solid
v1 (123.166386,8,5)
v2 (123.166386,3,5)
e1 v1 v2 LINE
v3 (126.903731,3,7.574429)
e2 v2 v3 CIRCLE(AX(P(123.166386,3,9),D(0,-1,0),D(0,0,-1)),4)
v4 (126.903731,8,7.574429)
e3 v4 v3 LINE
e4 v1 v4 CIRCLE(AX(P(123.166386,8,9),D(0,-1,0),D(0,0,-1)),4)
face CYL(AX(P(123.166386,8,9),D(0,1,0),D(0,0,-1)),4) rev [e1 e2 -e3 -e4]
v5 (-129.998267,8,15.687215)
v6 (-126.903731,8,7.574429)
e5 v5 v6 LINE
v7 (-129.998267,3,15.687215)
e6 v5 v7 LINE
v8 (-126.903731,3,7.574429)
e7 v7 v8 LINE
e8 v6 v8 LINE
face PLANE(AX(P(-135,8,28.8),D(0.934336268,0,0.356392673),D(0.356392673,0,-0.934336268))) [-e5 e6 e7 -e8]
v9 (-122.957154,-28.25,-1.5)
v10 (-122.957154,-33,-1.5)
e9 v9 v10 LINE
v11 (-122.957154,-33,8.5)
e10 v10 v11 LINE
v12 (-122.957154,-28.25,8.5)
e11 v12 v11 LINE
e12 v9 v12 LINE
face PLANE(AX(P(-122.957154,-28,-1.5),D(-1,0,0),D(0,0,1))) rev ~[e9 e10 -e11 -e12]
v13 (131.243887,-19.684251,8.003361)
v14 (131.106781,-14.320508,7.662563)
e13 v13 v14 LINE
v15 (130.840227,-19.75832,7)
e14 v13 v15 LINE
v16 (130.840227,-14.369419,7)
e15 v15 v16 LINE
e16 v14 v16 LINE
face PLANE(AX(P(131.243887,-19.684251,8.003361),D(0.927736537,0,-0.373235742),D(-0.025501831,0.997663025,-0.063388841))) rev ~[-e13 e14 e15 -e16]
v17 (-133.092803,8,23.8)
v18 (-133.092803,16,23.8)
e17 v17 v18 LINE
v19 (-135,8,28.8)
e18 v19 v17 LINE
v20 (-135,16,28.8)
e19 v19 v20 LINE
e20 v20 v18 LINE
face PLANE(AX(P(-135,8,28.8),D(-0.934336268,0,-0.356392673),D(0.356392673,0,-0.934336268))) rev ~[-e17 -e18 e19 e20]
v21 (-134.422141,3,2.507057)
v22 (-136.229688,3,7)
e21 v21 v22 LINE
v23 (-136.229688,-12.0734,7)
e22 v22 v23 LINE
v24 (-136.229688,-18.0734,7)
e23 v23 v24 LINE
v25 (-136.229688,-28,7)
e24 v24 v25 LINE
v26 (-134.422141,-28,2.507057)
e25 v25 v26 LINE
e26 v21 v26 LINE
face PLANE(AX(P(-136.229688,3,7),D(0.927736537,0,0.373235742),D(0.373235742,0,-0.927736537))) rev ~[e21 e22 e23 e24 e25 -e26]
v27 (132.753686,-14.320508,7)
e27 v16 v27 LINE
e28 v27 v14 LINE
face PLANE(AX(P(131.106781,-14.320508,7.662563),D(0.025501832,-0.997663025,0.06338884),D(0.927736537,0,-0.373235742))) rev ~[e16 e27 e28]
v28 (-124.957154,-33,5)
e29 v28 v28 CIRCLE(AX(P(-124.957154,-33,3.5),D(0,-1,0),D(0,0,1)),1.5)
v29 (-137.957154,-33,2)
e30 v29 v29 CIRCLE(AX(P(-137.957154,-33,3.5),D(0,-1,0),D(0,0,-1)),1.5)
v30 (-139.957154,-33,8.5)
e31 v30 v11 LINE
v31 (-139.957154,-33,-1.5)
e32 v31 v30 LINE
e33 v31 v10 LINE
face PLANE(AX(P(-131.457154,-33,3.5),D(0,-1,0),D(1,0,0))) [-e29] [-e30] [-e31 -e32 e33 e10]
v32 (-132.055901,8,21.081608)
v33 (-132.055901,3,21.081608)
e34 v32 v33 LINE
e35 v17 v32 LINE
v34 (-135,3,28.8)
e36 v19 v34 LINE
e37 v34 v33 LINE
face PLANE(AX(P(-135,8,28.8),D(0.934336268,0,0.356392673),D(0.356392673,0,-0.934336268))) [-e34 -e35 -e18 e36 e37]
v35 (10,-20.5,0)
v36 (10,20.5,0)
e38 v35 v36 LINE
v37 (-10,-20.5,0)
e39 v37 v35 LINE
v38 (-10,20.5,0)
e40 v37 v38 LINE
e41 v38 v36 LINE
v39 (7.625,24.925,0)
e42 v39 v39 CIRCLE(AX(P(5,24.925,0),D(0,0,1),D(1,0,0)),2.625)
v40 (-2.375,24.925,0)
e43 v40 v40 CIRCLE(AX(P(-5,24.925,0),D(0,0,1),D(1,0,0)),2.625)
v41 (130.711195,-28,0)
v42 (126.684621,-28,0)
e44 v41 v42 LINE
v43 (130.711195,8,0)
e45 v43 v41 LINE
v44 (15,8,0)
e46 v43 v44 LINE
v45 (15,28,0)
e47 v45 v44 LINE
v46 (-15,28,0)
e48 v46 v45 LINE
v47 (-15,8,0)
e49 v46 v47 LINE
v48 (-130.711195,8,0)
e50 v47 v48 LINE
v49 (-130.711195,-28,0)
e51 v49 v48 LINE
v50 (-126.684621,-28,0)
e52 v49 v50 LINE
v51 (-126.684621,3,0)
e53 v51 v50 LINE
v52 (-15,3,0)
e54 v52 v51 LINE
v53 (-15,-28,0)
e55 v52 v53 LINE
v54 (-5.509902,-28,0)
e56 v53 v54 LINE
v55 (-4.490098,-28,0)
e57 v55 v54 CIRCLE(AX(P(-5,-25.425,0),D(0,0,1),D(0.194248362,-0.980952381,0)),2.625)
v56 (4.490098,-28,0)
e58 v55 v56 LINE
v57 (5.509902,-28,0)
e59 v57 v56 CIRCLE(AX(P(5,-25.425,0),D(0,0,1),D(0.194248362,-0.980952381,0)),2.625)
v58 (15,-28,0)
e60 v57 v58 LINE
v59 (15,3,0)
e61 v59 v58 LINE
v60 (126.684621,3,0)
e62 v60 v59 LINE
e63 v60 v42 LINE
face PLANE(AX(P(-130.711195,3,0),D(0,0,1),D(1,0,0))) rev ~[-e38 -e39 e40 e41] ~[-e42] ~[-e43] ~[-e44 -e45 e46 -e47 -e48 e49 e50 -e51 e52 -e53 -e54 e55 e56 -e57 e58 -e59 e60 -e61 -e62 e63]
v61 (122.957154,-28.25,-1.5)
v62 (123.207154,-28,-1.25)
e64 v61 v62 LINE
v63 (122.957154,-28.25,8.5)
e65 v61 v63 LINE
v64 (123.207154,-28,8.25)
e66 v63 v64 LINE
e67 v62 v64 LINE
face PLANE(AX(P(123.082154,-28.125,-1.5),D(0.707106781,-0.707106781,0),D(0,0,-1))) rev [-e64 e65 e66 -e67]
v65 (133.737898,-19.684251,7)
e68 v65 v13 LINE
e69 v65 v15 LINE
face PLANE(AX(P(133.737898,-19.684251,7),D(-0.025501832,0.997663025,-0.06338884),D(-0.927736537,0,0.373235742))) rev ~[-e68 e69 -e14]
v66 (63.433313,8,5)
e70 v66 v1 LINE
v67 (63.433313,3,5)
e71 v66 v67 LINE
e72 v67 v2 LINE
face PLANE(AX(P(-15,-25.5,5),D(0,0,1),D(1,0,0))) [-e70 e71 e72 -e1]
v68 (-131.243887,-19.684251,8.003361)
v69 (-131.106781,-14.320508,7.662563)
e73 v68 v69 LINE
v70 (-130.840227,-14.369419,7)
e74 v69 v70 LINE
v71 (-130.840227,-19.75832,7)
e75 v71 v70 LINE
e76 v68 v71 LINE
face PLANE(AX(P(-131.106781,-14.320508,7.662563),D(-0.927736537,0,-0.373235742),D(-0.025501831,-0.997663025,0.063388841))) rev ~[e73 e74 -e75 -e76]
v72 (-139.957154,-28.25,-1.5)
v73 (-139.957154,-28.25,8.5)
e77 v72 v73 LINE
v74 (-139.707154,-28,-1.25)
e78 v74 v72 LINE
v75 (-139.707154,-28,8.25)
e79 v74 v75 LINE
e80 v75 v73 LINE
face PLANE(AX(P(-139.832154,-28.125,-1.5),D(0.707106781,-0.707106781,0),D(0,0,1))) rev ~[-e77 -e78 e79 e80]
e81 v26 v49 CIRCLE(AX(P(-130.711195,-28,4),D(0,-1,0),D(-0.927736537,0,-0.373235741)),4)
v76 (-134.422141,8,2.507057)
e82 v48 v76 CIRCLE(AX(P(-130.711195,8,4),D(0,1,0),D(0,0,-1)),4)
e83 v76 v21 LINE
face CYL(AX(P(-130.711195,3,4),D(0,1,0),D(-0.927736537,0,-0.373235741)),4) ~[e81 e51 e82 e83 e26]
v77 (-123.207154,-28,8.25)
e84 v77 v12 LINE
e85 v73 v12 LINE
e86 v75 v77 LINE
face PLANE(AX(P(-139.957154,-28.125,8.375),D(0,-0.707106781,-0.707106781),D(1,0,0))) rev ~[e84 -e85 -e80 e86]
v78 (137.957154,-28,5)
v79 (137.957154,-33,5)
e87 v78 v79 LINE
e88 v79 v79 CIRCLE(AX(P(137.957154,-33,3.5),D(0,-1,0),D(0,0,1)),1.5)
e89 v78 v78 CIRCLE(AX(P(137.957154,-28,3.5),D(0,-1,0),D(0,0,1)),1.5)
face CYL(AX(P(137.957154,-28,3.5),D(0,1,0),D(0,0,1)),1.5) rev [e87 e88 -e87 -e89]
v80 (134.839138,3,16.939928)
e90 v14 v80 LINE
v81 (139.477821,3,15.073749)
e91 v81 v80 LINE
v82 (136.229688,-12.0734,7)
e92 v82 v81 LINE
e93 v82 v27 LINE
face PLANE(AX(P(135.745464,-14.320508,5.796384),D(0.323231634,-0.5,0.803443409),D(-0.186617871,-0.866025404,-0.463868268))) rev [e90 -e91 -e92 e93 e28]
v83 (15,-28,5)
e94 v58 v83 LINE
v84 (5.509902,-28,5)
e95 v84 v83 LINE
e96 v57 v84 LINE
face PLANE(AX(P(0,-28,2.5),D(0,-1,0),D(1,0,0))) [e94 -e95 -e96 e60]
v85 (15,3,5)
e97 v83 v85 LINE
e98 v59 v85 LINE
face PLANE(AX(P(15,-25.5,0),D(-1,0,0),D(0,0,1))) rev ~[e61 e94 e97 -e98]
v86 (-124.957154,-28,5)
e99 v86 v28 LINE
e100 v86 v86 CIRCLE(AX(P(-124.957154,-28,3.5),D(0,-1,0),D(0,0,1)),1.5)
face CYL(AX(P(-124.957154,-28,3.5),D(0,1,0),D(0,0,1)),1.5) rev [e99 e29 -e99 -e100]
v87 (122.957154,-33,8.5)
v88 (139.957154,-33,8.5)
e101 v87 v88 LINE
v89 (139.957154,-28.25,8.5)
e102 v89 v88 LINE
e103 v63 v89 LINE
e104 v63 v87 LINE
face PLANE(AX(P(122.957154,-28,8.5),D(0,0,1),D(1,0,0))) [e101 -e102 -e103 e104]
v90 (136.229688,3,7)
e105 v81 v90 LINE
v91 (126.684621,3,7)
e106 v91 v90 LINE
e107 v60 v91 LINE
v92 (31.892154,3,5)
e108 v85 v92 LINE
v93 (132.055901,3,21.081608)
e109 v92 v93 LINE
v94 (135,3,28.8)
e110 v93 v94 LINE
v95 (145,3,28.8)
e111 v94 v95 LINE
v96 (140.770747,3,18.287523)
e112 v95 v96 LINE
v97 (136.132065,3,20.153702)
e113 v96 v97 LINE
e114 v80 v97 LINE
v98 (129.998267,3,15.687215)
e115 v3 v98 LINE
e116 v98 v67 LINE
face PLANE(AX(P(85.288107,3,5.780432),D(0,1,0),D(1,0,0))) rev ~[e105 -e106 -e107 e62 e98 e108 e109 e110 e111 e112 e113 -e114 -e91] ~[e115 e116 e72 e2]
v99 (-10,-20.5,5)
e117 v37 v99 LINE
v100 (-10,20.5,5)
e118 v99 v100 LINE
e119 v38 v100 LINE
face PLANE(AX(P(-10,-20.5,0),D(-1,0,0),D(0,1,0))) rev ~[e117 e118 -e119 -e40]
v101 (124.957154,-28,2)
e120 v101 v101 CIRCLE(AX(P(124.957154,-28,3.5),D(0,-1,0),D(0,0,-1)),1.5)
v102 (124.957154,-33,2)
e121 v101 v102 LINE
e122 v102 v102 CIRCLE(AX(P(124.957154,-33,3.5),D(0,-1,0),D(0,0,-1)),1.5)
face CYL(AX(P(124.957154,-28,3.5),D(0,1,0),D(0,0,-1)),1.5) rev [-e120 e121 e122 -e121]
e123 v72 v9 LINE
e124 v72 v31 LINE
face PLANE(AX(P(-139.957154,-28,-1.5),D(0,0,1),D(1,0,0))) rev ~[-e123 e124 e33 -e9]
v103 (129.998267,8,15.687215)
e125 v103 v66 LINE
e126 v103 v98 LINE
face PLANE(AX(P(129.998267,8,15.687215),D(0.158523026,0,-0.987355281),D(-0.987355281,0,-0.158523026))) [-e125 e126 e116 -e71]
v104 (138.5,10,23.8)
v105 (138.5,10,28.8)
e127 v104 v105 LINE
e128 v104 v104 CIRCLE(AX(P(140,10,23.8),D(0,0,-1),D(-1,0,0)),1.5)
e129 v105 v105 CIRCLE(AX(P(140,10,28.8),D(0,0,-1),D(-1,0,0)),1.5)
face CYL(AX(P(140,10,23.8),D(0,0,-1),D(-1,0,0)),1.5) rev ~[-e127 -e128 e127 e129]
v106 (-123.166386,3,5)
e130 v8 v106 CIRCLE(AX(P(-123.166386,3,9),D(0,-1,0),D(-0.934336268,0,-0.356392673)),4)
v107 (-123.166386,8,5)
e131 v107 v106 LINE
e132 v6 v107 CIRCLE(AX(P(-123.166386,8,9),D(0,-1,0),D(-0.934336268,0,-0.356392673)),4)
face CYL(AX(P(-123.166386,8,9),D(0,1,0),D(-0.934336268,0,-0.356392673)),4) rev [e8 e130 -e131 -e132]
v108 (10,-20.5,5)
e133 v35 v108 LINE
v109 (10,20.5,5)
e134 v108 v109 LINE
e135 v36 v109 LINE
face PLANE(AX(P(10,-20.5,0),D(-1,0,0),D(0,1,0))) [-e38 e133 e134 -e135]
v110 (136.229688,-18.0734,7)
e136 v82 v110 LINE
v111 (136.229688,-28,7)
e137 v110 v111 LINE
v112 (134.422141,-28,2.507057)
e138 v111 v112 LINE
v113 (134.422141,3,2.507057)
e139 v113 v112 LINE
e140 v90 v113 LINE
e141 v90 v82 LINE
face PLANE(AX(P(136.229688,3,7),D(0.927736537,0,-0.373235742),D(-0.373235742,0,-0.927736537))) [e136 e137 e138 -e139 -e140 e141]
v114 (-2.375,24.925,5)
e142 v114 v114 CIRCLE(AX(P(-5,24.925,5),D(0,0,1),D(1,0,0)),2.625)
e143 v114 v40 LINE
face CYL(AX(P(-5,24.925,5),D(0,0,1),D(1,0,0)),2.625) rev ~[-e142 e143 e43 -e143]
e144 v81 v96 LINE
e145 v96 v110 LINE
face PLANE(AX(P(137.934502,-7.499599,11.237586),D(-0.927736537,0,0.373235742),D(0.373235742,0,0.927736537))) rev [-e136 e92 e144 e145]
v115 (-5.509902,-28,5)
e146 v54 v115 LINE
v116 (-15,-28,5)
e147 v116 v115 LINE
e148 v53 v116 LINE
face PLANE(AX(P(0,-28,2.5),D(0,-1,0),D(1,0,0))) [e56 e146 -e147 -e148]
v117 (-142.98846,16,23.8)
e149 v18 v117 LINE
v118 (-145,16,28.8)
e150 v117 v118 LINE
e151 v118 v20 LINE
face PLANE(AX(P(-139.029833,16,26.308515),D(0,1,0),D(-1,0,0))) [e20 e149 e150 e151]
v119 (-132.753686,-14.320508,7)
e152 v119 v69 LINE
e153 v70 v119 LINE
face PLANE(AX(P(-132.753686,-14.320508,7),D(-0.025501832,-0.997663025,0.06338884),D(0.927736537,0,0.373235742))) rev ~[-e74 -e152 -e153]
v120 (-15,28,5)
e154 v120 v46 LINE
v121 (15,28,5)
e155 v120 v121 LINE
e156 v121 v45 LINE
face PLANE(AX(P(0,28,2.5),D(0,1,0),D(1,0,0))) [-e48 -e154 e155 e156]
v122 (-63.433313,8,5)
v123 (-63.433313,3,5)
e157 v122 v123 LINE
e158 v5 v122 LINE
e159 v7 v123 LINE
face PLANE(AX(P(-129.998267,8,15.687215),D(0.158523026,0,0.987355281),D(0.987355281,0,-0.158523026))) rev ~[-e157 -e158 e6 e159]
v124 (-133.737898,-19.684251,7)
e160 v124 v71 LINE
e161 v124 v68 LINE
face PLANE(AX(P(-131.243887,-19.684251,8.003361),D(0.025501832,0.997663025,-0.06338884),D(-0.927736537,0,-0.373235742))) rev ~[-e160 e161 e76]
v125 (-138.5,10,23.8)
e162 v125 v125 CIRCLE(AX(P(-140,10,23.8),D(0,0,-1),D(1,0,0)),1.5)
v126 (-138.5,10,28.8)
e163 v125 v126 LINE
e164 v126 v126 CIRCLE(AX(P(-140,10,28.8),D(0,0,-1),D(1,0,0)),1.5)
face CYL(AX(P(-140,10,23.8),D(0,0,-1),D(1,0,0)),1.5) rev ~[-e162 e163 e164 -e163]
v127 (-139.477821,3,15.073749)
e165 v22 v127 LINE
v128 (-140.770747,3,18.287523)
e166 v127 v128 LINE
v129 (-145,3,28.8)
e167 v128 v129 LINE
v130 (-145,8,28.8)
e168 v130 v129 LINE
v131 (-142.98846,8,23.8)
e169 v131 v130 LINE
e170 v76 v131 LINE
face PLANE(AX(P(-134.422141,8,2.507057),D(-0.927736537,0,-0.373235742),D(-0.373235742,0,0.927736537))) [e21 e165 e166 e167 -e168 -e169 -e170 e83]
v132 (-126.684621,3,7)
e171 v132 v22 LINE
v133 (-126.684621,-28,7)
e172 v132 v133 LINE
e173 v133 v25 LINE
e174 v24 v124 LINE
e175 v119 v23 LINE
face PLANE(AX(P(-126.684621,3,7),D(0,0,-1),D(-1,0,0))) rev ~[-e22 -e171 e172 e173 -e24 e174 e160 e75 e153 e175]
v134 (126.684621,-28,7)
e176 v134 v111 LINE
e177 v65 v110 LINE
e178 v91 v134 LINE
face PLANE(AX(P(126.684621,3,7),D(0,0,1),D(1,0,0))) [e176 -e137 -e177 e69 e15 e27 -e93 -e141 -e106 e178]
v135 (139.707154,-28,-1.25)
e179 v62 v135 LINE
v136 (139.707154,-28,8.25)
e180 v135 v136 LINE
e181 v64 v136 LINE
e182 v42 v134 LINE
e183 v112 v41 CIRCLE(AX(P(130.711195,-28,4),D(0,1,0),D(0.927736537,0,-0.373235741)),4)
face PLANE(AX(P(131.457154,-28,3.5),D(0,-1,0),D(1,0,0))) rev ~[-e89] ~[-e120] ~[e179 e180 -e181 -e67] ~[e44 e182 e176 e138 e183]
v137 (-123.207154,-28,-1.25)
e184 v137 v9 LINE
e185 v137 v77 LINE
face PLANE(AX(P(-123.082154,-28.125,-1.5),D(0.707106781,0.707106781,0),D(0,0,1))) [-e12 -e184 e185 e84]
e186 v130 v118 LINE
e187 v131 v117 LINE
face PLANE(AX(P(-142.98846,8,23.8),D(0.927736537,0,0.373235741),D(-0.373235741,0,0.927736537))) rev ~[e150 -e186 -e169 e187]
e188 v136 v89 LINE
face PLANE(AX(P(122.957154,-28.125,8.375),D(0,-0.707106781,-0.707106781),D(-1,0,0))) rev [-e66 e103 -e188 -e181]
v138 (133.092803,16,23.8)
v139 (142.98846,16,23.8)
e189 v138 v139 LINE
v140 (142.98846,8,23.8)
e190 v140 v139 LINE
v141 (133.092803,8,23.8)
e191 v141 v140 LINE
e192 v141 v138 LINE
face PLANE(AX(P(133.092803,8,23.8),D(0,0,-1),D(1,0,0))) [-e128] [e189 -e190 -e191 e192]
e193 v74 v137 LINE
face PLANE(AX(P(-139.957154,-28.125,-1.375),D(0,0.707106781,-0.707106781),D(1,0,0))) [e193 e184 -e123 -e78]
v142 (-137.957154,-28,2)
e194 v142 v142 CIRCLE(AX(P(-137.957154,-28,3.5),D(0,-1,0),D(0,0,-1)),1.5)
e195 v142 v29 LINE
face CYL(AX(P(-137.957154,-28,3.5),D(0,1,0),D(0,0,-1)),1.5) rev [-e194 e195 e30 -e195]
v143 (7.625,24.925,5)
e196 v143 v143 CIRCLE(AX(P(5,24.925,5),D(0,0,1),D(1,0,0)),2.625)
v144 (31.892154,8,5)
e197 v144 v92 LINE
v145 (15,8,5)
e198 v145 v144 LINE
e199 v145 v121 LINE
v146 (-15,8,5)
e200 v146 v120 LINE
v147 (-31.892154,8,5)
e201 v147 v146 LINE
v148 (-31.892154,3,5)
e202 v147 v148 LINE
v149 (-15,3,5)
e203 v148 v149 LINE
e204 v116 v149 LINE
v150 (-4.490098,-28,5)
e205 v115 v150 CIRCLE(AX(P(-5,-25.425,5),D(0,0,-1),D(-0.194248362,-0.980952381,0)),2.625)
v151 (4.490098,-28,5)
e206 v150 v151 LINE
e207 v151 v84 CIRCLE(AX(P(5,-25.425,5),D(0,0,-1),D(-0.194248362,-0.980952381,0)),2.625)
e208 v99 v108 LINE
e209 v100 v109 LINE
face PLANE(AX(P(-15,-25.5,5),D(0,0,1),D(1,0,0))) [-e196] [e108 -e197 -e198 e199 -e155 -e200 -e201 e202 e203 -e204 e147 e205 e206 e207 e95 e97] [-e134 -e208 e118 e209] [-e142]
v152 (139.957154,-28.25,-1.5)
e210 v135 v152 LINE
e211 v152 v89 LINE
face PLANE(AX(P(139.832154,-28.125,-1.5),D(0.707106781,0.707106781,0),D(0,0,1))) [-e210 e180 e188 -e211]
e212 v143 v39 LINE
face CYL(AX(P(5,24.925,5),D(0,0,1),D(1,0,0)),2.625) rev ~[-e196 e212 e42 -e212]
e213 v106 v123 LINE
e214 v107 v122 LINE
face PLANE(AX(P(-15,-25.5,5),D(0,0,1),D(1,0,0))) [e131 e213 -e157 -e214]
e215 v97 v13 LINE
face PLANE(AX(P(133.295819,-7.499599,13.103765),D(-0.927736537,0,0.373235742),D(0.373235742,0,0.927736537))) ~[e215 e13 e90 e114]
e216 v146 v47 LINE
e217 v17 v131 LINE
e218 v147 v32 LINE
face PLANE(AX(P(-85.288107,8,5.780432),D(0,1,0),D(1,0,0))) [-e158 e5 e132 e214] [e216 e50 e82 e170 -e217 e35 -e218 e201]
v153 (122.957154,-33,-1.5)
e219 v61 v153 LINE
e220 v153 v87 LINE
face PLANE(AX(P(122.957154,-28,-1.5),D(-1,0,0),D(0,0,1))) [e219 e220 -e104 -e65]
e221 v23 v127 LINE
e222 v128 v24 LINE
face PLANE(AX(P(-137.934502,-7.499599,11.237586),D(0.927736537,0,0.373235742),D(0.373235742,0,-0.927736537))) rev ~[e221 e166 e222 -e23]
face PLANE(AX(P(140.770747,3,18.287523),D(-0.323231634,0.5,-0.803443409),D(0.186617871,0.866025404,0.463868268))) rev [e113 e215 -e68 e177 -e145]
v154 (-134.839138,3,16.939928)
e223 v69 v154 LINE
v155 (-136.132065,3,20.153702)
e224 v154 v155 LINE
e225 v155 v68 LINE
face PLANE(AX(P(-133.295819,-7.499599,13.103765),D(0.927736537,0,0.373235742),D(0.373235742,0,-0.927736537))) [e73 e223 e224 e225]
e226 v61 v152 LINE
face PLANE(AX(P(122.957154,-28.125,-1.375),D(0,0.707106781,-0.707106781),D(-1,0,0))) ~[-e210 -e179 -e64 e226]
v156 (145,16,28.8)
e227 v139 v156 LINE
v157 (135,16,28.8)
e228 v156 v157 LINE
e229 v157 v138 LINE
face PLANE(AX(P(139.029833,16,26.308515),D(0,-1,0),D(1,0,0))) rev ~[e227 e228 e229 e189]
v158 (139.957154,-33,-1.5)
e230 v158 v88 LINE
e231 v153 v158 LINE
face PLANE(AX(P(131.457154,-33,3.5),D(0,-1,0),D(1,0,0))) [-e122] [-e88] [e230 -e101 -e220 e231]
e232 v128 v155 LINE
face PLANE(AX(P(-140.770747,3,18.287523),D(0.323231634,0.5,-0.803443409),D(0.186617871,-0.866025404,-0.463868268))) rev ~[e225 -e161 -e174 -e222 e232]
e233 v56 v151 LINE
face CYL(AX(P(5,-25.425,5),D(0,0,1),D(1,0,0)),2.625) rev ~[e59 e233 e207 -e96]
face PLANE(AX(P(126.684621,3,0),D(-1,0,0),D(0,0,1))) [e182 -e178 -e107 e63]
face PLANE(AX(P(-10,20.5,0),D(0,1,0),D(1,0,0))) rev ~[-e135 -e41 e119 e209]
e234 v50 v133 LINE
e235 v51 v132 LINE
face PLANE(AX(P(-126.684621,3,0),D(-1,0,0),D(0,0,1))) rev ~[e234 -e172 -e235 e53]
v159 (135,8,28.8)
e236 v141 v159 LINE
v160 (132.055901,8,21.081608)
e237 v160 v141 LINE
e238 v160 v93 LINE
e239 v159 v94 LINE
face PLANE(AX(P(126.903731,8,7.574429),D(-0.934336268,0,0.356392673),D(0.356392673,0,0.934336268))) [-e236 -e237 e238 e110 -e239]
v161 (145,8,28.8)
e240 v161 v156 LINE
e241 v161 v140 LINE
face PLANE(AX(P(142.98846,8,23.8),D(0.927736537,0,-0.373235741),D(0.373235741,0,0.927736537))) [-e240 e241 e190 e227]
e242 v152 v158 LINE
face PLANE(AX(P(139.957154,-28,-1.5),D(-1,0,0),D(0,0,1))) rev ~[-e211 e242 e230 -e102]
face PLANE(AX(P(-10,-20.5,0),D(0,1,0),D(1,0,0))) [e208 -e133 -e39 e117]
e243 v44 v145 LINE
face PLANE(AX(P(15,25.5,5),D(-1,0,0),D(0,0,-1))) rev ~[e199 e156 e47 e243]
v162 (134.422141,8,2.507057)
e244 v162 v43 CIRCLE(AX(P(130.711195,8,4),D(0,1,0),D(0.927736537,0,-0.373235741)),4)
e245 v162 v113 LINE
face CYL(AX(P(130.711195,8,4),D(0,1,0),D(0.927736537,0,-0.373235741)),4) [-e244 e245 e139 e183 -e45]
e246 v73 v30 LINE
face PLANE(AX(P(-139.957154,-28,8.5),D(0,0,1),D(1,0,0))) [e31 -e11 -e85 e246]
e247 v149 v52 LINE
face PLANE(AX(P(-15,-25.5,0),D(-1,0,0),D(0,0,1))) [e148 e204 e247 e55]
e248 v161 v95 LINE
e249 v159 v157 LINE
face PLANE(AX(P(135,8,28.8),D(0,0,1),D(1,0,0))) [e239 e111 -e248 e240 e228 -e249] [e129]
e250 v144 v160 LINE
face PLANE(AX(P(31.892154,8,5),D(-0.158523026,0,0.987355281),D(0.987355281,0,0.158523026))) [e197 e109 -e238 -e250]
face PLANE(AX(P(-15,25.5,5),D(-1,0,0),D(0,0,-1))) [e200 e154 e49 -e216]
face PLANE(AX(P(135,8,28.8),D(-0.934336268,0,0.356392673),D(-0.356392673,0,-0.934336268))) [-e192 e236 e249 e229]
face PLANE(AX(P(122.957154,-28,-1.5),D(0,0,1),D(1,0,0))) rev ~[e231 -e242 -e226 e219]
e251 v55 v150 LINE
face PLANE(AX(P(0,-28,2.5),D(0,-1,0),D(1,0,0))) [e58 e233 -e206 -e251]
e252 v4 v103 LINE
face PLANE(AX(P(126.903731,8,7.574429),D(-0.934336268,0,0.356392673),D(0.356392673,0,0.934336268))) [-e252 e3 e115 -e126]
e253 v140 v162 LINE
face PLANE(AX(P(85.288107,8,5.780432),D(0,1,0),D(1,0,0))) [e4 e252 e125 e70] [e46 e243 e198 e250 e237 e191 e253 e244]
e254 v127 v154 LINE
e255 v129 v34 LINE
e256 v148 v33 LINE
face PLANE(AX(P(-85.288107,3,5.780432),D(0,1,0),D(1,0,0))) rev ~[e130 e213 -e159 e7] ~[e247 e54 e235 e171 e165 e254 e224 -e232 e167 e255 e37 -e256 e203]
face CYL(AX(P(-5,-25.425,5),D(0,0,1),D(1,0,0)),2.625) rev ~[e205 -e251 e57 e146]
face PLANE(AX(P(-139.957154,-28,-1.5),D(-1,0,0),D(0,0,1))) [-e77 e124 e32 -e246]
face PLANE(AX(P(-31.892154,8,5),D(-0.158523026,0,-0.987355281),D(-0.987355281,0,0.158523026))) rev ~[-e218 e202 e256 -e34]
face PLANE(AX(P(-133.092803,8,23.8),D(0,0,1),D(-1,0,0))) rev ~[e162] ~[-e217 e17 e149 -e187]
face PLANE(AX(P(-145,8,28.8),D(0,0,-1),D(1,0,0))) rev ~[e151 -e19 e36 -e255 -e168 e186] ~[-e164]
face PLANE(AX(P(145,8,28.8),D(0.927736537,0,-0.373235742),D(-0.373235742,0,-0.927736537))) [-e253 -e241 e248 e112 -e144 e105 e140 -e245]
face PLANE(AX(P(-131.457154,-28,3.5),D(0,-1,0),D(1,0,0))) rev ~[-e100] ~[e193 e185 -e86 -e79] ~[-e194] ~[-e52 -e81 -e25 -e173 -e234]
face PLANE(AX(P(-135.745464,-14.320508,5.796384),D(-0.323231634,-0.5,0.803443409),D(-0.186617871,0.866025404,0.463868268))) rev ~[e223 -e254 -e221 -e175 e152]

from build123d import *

# Parameters (mm, degrees)
ESQUISSE1_W             = 30
ESQUISSE1_H             = 51
ESQUISSE1_W_2           = 20
ESQUISSE1_H_2           = 41
BOSS_EXTRU_1_DEPTH      = 5
BOSS_EXTRU_3_DEPTH      = 5
BOSS_EXTRU_4_DEPTH      = 8
ESQUISSE5_W             = 30
ESQUISSE5_H             = 5
BOSS_EXTRU_5_DEPTH      = 2.5
ESQUISSE6_W             = 30
ESQUISSE6_H             = 5
BOSS_EXTRU_6_DEPTH      = 2.5
ESQUISSE7_R             = 1.5
ENL_V_MAT_EXTRU_1_DEPTH = 150.584223767
ESQUISSE8_R             = 2.625
ENL_V_MAT_EXTRU_2_DEPTH = 150.584223767
BOSS_EXTRU_8_DEPTH      = 5
BOSS_EXTRU_9_DEPTH      = 31
BOSS_EXTRU_11_DEPTH     = 5
ESQUISSE16_W            = 17
ESQUISSE16_H            = 10
ESQUISSE16_R            = 1.5
BOSS_EXTRU_12_DEPTH     = 5
CHANFREIN3_SIZE         = 0.25
BOSS_EXTRU_13_DEPTH     = 5
BOSS_EXTRU_14_DEPTH     = 5


with BuildPart() as part:
    # Esquisse1 → Boss.-Extru.1 (new body)
    with BuildSketch(Plane.XY):
        Rectangle(ESQUISSE1_W, ESQUISSE1_H)
        Rectangle(ESQUISSE1_W_2, ESQUISSE1_H_2, mode=Mode.SUBTRACT)
    extrude(amount=BOSS_EXTRU_1_DEPTH)

    # Esquisse3 → Boss.-Extru.3 (add)
    with BuildSketch(Plane(origin=(0, 8, 0), x_dir=(1, 0, 0), z_dir=(0, 1, 0))):
        with BuildLine():
            Line((130.711195077, 0), (15, 0))
            Line((15, 0), (15, -5))
            Line((15, -5), (123.166385806, -5))
            ThreePointArc((123.166385806, -5), (125.435495458, -5.705892931), (126.903730879, -7.574429307))
            Line((126.903730879, -7.574429307), (135, -28.8))
            Line((135, -28.8), (145, -28.8))
            Line((145, -28.8), (134.422141223, -2.507057034))
            ThreePointArc((134.422141223, -2.507057034), (132.950416832, -0.685503668), (130.711195077, 0))
        make_face()
        with BuildLine():
            Line((-123.166385806, -5), (-15, -5))
            Line((-15, -5), (-15, 0))
            Line((-15, 0), (-130.711195077, 0))
            ThreePointArc((-130.711195077, 0), (-132.950416832, -0.685503668), (-134.422141223, -2.507057034))
            Line((-134.422141223, -2.507057034), (-145, -28.8))
            Line((-145, -28.8), (-135, -28.8))
            Line((-135, -28.8), (-126.903730879, -7.574429307))
            ThreePointArc((-126.903730879, -7.574429307), (-125.435495458, -5.705892931), (-123.166385806, -5))
        make_face()
    extrude(amount=-BOSS_EXTRU_3_DEPTH)

    # Esquisse4 → Boss.-Extru.4 (add)
    with BuildSketch(Plane(origin=(0, 8, 0), x_dir=(-1, 0, 0), z_dir=(0, 1, 0))):
        Polygon((145, 28.8), (135, 28.8), (133.09280296, 23.8), (142.98846048, 23.8), align=None)
        Polygon((-142.98846048, 23.8), (-145, 28.8), (-135, 28.8), (-133.09280296, 23.8), align=None)
    extrude(amount=BOSS_EXTRU_4_DEPTH)

    # Esquisse5 → Boss.-Extru.5 (add)
    with BuildSketch(Plane(origin=(0, 25.5, 0), x_dir=(1, 0, 0), z_dir=(0, 1, 0))):
        with Locations((0, -2.5)):
            Rectangle(ESQUISSE5_W, ESQUISSE5_H)
    extrude(amount=BOSS_EXTRU_5_DEPTH)

    # Esquisse6 → Boss.-Extru.6 (add)
    with BuildSketch(Plane.XZ.offset(25.5)):
        with Locations((0, 2.5)):
            Rectangle(ESQUISSE6_W, ESQUISSE6_H)
    extrude(amount=BOSS_EXTRU_6_DEPTH)

    # Esquisse7 → Enlèv. mat.-Extru.1 (cut, through all)
    with BuildSketch(Plane(origin=(0, 0, 23.8), x_dir=(-1, 0, 0), z_dir=(0, 0, -1))):
        with Locations((-140, 10)):
            Circle(ESQUISSE7_R)
        with Locations(Location((140, 10, 0), (0, 0, 180))):
            Circle(ESQUISSE7_R)
    extrude(amount=-ENL_V_MAT_EXTRU_1_DEPTH, mode=Mode.SUBTRACT)

    # Esquisse8 → Enlèv. mat.-Extru.2 (cut, through all)
    with BuildSketch(Plane.XY.offset(5)):
        with Locations((-5, 24.925)):
            Circle(ESQUISSE8_R)
        with Locations((5, 24.925)):
            Circle(ESQUISSE8_R)
        with Locations((-5, -25.425)):
            Circle(ESQUISSE8_R)
        with Locations((5, -25.425)):
            Circle(ESQUISSE8_R)
    extrude(amount=-ENL_V_MAT_EXTRU_2_DEPTH, mode=Mode.SUBTRACT)

    # Esquisse12 → Boss.-Extru.8 (add)
    with BuildSketch(Plane(origin=(0, 8, 0), x_dir=(1, 0, 0), z_dir=(0, 1, 0))):
        Polygon((-129.99826692, -15.687214654), (-63.433313414, -5), (-31.892154123, -5), (-132.055900977, -21.081607615), align=None)
        Polygon((132.055900977, -21.081607615), (129.99826692, -15.687214654), (63.433313414, -5), (31.892154123, -5), align=None)
    extrude(amount=-BOSS_EXTRU_8_DEPTH)

    # Esquisse13 → Boss.-Extru.9 (add, through all)
    with BuildSketch(Plane.XZ.offset(-3)):
        with BuildLine():
            Line((-126.684620904, 7), (-136.229687691, 7))
            Line((-136.229687691, 7), (-134.422141223, 2.507057034))
            ThreePointArc((-134.422141223, 2.507057034), (-132.950416832, 0.685503668), (-130.711195077, 0))
            Line((-130.711195077, 0), (-126.684620904, 0))
            Line((-126.684620904, 0), (-126.684620904, 7))
        make_face()
        with BuildLine():
            ThreePointArc((134.422141223, 2.507057034), (132.950416832, 0.685503668), (130.711195077, 0))
            Line((130.711195077, 0), (126.684620904, 0))
            Line((126.684620904, 0), (126.684620904, 7))
            Line((126.684620904, 7), (136.229687691, 7))
            Line((136.229687691, 7), (134.422141223, 2.507057034))
        make_face()
    extrude(amount=BOSS_EXTRU_9_DEPTH)

    # Esquisse15 → Boss.-Extru.11 (add)
    with BuildSketch(Plane(origin=(-114.828371074, 0, -46.196361295), x_dir=(-0.3732357415464263, 0, 0.9277365365405684), z_dir=(-0.9277365365405683, 0, -0.37323574154642625))):
        Polygon((56.042576064, -14.320508076), (66.042576064, 3), (69.506677679, 3), (56.409919429, -19.684250702), align=None)
    boss_extru_11 = extrude(amount=-BOSS_EXTRU_11_DEPTH)

    # Symétrie3: Boss.-Extru.11 across plane
    add(boss_extru_11.mirror(Plane(origin=(0, 0, 0), x_dir=(0, 0, 1), z_dir=(1, 0, 0))))

    # Esquisse16 → Boss.-Extru.12 (add)
    # profile 1 of 2: a face of its own
    with BuildSketch(Plane.XZ.offset(28)):
        with Locations((131.457154298, 3.5)):
            Rectangle(ESQUISSE16_W, ESQUISSE16_H)
        with Locations(Location((124.957154298, 3.5, 0), (0, 0, 270))):
            Circle(ESQUISSE16_R, mode=Mode.SUBTRACT)
        with Locations(Location((137.957154298, 3.5, 0), (0, 0, 90))):
            Circle(ESQUISSE16_R, mode=Mode.SUBTRACT)
    # profile 2 of 2: a face of its own
    with BuildSketch(Plane.XZ.offset(28)):
        with Locations((-131.457154298, 3.5)):
            Rectangle(ESQUISSE16_W, ESQUISSE16_H)
        with Locations(Location((-137.957154298, 3.5, 0), (0, 0, 270))):
            Circle(ESQUISSE16_R, mode=Mode.SUBTRACT)
        with Locations(Location((-124.957154298, 3.5, 0), (0, 0, 90))):
            Circle(ESQUISSE16_R, mode=Mode.SUBTRACT)
    extrude(amount=BOSS_EXTRU_12_DEPTH)

    # Chanfrein3
    chanfrein3_edges = [part.edges().sort_by_distance(p)[0] for p in [
        (139.957154298, -28, 3.5),
        (131.457154298, -28, 8.5),
        (122.957154298, -28, 3.5),
        (131.457154298, -28, -1.5),
        (-122.957154298, -28, 3.5),
        (-131.457154298, -28, 8.5),
        (-139.957154298, -28, 3.5),
        (-131.457154298, -28, -1.5),
    ]]
    chamfer(chanfrein3_edges, length=CHANFREIN3_SIZE)

    # Esquisse17 → Boss.-Extru.13 (add)
    with BuildSketch(Plane(origin=(-20.455095506, 3.753380181, 50.844378892), x_dir=(-0.9280869704105542, -0.02741363174056612, -0.37135302361627764), z_dir=(0.3723634989551998, -0.06832633838021179, -0.9255684394626872))):
        Polygon((119.373285615, -20.220046325), (122.060546569, -20.146178288), (121.000071898, -14.796991142), (119.225556278, -14.845769429), align=None)
    extrude(amount=BOSS_EXTRU_13_DEPTH)

    # Esquisse18 → Boss.-Extru.14 (add)
    with BuildSketch(Plane(origin=(20.455095506, 3.753380181, 50.844378892), x_dir=(-0.9280869704105542, 0.02741363174056612, 0.37135302361627764), z_dir=(-0.3723634989551998, -0.06832633838021179, -0.9255684394626872))):
        Polygon((-119.225556278, -14.845769429), (-121.000071898, -14.796991142), (-122.060546569, -20.146178288), (-119.373285615, -20.220046325), align=None)
    extrude(amount=BOSS_EXTRU_14_DEPTH)


solid = part.part
